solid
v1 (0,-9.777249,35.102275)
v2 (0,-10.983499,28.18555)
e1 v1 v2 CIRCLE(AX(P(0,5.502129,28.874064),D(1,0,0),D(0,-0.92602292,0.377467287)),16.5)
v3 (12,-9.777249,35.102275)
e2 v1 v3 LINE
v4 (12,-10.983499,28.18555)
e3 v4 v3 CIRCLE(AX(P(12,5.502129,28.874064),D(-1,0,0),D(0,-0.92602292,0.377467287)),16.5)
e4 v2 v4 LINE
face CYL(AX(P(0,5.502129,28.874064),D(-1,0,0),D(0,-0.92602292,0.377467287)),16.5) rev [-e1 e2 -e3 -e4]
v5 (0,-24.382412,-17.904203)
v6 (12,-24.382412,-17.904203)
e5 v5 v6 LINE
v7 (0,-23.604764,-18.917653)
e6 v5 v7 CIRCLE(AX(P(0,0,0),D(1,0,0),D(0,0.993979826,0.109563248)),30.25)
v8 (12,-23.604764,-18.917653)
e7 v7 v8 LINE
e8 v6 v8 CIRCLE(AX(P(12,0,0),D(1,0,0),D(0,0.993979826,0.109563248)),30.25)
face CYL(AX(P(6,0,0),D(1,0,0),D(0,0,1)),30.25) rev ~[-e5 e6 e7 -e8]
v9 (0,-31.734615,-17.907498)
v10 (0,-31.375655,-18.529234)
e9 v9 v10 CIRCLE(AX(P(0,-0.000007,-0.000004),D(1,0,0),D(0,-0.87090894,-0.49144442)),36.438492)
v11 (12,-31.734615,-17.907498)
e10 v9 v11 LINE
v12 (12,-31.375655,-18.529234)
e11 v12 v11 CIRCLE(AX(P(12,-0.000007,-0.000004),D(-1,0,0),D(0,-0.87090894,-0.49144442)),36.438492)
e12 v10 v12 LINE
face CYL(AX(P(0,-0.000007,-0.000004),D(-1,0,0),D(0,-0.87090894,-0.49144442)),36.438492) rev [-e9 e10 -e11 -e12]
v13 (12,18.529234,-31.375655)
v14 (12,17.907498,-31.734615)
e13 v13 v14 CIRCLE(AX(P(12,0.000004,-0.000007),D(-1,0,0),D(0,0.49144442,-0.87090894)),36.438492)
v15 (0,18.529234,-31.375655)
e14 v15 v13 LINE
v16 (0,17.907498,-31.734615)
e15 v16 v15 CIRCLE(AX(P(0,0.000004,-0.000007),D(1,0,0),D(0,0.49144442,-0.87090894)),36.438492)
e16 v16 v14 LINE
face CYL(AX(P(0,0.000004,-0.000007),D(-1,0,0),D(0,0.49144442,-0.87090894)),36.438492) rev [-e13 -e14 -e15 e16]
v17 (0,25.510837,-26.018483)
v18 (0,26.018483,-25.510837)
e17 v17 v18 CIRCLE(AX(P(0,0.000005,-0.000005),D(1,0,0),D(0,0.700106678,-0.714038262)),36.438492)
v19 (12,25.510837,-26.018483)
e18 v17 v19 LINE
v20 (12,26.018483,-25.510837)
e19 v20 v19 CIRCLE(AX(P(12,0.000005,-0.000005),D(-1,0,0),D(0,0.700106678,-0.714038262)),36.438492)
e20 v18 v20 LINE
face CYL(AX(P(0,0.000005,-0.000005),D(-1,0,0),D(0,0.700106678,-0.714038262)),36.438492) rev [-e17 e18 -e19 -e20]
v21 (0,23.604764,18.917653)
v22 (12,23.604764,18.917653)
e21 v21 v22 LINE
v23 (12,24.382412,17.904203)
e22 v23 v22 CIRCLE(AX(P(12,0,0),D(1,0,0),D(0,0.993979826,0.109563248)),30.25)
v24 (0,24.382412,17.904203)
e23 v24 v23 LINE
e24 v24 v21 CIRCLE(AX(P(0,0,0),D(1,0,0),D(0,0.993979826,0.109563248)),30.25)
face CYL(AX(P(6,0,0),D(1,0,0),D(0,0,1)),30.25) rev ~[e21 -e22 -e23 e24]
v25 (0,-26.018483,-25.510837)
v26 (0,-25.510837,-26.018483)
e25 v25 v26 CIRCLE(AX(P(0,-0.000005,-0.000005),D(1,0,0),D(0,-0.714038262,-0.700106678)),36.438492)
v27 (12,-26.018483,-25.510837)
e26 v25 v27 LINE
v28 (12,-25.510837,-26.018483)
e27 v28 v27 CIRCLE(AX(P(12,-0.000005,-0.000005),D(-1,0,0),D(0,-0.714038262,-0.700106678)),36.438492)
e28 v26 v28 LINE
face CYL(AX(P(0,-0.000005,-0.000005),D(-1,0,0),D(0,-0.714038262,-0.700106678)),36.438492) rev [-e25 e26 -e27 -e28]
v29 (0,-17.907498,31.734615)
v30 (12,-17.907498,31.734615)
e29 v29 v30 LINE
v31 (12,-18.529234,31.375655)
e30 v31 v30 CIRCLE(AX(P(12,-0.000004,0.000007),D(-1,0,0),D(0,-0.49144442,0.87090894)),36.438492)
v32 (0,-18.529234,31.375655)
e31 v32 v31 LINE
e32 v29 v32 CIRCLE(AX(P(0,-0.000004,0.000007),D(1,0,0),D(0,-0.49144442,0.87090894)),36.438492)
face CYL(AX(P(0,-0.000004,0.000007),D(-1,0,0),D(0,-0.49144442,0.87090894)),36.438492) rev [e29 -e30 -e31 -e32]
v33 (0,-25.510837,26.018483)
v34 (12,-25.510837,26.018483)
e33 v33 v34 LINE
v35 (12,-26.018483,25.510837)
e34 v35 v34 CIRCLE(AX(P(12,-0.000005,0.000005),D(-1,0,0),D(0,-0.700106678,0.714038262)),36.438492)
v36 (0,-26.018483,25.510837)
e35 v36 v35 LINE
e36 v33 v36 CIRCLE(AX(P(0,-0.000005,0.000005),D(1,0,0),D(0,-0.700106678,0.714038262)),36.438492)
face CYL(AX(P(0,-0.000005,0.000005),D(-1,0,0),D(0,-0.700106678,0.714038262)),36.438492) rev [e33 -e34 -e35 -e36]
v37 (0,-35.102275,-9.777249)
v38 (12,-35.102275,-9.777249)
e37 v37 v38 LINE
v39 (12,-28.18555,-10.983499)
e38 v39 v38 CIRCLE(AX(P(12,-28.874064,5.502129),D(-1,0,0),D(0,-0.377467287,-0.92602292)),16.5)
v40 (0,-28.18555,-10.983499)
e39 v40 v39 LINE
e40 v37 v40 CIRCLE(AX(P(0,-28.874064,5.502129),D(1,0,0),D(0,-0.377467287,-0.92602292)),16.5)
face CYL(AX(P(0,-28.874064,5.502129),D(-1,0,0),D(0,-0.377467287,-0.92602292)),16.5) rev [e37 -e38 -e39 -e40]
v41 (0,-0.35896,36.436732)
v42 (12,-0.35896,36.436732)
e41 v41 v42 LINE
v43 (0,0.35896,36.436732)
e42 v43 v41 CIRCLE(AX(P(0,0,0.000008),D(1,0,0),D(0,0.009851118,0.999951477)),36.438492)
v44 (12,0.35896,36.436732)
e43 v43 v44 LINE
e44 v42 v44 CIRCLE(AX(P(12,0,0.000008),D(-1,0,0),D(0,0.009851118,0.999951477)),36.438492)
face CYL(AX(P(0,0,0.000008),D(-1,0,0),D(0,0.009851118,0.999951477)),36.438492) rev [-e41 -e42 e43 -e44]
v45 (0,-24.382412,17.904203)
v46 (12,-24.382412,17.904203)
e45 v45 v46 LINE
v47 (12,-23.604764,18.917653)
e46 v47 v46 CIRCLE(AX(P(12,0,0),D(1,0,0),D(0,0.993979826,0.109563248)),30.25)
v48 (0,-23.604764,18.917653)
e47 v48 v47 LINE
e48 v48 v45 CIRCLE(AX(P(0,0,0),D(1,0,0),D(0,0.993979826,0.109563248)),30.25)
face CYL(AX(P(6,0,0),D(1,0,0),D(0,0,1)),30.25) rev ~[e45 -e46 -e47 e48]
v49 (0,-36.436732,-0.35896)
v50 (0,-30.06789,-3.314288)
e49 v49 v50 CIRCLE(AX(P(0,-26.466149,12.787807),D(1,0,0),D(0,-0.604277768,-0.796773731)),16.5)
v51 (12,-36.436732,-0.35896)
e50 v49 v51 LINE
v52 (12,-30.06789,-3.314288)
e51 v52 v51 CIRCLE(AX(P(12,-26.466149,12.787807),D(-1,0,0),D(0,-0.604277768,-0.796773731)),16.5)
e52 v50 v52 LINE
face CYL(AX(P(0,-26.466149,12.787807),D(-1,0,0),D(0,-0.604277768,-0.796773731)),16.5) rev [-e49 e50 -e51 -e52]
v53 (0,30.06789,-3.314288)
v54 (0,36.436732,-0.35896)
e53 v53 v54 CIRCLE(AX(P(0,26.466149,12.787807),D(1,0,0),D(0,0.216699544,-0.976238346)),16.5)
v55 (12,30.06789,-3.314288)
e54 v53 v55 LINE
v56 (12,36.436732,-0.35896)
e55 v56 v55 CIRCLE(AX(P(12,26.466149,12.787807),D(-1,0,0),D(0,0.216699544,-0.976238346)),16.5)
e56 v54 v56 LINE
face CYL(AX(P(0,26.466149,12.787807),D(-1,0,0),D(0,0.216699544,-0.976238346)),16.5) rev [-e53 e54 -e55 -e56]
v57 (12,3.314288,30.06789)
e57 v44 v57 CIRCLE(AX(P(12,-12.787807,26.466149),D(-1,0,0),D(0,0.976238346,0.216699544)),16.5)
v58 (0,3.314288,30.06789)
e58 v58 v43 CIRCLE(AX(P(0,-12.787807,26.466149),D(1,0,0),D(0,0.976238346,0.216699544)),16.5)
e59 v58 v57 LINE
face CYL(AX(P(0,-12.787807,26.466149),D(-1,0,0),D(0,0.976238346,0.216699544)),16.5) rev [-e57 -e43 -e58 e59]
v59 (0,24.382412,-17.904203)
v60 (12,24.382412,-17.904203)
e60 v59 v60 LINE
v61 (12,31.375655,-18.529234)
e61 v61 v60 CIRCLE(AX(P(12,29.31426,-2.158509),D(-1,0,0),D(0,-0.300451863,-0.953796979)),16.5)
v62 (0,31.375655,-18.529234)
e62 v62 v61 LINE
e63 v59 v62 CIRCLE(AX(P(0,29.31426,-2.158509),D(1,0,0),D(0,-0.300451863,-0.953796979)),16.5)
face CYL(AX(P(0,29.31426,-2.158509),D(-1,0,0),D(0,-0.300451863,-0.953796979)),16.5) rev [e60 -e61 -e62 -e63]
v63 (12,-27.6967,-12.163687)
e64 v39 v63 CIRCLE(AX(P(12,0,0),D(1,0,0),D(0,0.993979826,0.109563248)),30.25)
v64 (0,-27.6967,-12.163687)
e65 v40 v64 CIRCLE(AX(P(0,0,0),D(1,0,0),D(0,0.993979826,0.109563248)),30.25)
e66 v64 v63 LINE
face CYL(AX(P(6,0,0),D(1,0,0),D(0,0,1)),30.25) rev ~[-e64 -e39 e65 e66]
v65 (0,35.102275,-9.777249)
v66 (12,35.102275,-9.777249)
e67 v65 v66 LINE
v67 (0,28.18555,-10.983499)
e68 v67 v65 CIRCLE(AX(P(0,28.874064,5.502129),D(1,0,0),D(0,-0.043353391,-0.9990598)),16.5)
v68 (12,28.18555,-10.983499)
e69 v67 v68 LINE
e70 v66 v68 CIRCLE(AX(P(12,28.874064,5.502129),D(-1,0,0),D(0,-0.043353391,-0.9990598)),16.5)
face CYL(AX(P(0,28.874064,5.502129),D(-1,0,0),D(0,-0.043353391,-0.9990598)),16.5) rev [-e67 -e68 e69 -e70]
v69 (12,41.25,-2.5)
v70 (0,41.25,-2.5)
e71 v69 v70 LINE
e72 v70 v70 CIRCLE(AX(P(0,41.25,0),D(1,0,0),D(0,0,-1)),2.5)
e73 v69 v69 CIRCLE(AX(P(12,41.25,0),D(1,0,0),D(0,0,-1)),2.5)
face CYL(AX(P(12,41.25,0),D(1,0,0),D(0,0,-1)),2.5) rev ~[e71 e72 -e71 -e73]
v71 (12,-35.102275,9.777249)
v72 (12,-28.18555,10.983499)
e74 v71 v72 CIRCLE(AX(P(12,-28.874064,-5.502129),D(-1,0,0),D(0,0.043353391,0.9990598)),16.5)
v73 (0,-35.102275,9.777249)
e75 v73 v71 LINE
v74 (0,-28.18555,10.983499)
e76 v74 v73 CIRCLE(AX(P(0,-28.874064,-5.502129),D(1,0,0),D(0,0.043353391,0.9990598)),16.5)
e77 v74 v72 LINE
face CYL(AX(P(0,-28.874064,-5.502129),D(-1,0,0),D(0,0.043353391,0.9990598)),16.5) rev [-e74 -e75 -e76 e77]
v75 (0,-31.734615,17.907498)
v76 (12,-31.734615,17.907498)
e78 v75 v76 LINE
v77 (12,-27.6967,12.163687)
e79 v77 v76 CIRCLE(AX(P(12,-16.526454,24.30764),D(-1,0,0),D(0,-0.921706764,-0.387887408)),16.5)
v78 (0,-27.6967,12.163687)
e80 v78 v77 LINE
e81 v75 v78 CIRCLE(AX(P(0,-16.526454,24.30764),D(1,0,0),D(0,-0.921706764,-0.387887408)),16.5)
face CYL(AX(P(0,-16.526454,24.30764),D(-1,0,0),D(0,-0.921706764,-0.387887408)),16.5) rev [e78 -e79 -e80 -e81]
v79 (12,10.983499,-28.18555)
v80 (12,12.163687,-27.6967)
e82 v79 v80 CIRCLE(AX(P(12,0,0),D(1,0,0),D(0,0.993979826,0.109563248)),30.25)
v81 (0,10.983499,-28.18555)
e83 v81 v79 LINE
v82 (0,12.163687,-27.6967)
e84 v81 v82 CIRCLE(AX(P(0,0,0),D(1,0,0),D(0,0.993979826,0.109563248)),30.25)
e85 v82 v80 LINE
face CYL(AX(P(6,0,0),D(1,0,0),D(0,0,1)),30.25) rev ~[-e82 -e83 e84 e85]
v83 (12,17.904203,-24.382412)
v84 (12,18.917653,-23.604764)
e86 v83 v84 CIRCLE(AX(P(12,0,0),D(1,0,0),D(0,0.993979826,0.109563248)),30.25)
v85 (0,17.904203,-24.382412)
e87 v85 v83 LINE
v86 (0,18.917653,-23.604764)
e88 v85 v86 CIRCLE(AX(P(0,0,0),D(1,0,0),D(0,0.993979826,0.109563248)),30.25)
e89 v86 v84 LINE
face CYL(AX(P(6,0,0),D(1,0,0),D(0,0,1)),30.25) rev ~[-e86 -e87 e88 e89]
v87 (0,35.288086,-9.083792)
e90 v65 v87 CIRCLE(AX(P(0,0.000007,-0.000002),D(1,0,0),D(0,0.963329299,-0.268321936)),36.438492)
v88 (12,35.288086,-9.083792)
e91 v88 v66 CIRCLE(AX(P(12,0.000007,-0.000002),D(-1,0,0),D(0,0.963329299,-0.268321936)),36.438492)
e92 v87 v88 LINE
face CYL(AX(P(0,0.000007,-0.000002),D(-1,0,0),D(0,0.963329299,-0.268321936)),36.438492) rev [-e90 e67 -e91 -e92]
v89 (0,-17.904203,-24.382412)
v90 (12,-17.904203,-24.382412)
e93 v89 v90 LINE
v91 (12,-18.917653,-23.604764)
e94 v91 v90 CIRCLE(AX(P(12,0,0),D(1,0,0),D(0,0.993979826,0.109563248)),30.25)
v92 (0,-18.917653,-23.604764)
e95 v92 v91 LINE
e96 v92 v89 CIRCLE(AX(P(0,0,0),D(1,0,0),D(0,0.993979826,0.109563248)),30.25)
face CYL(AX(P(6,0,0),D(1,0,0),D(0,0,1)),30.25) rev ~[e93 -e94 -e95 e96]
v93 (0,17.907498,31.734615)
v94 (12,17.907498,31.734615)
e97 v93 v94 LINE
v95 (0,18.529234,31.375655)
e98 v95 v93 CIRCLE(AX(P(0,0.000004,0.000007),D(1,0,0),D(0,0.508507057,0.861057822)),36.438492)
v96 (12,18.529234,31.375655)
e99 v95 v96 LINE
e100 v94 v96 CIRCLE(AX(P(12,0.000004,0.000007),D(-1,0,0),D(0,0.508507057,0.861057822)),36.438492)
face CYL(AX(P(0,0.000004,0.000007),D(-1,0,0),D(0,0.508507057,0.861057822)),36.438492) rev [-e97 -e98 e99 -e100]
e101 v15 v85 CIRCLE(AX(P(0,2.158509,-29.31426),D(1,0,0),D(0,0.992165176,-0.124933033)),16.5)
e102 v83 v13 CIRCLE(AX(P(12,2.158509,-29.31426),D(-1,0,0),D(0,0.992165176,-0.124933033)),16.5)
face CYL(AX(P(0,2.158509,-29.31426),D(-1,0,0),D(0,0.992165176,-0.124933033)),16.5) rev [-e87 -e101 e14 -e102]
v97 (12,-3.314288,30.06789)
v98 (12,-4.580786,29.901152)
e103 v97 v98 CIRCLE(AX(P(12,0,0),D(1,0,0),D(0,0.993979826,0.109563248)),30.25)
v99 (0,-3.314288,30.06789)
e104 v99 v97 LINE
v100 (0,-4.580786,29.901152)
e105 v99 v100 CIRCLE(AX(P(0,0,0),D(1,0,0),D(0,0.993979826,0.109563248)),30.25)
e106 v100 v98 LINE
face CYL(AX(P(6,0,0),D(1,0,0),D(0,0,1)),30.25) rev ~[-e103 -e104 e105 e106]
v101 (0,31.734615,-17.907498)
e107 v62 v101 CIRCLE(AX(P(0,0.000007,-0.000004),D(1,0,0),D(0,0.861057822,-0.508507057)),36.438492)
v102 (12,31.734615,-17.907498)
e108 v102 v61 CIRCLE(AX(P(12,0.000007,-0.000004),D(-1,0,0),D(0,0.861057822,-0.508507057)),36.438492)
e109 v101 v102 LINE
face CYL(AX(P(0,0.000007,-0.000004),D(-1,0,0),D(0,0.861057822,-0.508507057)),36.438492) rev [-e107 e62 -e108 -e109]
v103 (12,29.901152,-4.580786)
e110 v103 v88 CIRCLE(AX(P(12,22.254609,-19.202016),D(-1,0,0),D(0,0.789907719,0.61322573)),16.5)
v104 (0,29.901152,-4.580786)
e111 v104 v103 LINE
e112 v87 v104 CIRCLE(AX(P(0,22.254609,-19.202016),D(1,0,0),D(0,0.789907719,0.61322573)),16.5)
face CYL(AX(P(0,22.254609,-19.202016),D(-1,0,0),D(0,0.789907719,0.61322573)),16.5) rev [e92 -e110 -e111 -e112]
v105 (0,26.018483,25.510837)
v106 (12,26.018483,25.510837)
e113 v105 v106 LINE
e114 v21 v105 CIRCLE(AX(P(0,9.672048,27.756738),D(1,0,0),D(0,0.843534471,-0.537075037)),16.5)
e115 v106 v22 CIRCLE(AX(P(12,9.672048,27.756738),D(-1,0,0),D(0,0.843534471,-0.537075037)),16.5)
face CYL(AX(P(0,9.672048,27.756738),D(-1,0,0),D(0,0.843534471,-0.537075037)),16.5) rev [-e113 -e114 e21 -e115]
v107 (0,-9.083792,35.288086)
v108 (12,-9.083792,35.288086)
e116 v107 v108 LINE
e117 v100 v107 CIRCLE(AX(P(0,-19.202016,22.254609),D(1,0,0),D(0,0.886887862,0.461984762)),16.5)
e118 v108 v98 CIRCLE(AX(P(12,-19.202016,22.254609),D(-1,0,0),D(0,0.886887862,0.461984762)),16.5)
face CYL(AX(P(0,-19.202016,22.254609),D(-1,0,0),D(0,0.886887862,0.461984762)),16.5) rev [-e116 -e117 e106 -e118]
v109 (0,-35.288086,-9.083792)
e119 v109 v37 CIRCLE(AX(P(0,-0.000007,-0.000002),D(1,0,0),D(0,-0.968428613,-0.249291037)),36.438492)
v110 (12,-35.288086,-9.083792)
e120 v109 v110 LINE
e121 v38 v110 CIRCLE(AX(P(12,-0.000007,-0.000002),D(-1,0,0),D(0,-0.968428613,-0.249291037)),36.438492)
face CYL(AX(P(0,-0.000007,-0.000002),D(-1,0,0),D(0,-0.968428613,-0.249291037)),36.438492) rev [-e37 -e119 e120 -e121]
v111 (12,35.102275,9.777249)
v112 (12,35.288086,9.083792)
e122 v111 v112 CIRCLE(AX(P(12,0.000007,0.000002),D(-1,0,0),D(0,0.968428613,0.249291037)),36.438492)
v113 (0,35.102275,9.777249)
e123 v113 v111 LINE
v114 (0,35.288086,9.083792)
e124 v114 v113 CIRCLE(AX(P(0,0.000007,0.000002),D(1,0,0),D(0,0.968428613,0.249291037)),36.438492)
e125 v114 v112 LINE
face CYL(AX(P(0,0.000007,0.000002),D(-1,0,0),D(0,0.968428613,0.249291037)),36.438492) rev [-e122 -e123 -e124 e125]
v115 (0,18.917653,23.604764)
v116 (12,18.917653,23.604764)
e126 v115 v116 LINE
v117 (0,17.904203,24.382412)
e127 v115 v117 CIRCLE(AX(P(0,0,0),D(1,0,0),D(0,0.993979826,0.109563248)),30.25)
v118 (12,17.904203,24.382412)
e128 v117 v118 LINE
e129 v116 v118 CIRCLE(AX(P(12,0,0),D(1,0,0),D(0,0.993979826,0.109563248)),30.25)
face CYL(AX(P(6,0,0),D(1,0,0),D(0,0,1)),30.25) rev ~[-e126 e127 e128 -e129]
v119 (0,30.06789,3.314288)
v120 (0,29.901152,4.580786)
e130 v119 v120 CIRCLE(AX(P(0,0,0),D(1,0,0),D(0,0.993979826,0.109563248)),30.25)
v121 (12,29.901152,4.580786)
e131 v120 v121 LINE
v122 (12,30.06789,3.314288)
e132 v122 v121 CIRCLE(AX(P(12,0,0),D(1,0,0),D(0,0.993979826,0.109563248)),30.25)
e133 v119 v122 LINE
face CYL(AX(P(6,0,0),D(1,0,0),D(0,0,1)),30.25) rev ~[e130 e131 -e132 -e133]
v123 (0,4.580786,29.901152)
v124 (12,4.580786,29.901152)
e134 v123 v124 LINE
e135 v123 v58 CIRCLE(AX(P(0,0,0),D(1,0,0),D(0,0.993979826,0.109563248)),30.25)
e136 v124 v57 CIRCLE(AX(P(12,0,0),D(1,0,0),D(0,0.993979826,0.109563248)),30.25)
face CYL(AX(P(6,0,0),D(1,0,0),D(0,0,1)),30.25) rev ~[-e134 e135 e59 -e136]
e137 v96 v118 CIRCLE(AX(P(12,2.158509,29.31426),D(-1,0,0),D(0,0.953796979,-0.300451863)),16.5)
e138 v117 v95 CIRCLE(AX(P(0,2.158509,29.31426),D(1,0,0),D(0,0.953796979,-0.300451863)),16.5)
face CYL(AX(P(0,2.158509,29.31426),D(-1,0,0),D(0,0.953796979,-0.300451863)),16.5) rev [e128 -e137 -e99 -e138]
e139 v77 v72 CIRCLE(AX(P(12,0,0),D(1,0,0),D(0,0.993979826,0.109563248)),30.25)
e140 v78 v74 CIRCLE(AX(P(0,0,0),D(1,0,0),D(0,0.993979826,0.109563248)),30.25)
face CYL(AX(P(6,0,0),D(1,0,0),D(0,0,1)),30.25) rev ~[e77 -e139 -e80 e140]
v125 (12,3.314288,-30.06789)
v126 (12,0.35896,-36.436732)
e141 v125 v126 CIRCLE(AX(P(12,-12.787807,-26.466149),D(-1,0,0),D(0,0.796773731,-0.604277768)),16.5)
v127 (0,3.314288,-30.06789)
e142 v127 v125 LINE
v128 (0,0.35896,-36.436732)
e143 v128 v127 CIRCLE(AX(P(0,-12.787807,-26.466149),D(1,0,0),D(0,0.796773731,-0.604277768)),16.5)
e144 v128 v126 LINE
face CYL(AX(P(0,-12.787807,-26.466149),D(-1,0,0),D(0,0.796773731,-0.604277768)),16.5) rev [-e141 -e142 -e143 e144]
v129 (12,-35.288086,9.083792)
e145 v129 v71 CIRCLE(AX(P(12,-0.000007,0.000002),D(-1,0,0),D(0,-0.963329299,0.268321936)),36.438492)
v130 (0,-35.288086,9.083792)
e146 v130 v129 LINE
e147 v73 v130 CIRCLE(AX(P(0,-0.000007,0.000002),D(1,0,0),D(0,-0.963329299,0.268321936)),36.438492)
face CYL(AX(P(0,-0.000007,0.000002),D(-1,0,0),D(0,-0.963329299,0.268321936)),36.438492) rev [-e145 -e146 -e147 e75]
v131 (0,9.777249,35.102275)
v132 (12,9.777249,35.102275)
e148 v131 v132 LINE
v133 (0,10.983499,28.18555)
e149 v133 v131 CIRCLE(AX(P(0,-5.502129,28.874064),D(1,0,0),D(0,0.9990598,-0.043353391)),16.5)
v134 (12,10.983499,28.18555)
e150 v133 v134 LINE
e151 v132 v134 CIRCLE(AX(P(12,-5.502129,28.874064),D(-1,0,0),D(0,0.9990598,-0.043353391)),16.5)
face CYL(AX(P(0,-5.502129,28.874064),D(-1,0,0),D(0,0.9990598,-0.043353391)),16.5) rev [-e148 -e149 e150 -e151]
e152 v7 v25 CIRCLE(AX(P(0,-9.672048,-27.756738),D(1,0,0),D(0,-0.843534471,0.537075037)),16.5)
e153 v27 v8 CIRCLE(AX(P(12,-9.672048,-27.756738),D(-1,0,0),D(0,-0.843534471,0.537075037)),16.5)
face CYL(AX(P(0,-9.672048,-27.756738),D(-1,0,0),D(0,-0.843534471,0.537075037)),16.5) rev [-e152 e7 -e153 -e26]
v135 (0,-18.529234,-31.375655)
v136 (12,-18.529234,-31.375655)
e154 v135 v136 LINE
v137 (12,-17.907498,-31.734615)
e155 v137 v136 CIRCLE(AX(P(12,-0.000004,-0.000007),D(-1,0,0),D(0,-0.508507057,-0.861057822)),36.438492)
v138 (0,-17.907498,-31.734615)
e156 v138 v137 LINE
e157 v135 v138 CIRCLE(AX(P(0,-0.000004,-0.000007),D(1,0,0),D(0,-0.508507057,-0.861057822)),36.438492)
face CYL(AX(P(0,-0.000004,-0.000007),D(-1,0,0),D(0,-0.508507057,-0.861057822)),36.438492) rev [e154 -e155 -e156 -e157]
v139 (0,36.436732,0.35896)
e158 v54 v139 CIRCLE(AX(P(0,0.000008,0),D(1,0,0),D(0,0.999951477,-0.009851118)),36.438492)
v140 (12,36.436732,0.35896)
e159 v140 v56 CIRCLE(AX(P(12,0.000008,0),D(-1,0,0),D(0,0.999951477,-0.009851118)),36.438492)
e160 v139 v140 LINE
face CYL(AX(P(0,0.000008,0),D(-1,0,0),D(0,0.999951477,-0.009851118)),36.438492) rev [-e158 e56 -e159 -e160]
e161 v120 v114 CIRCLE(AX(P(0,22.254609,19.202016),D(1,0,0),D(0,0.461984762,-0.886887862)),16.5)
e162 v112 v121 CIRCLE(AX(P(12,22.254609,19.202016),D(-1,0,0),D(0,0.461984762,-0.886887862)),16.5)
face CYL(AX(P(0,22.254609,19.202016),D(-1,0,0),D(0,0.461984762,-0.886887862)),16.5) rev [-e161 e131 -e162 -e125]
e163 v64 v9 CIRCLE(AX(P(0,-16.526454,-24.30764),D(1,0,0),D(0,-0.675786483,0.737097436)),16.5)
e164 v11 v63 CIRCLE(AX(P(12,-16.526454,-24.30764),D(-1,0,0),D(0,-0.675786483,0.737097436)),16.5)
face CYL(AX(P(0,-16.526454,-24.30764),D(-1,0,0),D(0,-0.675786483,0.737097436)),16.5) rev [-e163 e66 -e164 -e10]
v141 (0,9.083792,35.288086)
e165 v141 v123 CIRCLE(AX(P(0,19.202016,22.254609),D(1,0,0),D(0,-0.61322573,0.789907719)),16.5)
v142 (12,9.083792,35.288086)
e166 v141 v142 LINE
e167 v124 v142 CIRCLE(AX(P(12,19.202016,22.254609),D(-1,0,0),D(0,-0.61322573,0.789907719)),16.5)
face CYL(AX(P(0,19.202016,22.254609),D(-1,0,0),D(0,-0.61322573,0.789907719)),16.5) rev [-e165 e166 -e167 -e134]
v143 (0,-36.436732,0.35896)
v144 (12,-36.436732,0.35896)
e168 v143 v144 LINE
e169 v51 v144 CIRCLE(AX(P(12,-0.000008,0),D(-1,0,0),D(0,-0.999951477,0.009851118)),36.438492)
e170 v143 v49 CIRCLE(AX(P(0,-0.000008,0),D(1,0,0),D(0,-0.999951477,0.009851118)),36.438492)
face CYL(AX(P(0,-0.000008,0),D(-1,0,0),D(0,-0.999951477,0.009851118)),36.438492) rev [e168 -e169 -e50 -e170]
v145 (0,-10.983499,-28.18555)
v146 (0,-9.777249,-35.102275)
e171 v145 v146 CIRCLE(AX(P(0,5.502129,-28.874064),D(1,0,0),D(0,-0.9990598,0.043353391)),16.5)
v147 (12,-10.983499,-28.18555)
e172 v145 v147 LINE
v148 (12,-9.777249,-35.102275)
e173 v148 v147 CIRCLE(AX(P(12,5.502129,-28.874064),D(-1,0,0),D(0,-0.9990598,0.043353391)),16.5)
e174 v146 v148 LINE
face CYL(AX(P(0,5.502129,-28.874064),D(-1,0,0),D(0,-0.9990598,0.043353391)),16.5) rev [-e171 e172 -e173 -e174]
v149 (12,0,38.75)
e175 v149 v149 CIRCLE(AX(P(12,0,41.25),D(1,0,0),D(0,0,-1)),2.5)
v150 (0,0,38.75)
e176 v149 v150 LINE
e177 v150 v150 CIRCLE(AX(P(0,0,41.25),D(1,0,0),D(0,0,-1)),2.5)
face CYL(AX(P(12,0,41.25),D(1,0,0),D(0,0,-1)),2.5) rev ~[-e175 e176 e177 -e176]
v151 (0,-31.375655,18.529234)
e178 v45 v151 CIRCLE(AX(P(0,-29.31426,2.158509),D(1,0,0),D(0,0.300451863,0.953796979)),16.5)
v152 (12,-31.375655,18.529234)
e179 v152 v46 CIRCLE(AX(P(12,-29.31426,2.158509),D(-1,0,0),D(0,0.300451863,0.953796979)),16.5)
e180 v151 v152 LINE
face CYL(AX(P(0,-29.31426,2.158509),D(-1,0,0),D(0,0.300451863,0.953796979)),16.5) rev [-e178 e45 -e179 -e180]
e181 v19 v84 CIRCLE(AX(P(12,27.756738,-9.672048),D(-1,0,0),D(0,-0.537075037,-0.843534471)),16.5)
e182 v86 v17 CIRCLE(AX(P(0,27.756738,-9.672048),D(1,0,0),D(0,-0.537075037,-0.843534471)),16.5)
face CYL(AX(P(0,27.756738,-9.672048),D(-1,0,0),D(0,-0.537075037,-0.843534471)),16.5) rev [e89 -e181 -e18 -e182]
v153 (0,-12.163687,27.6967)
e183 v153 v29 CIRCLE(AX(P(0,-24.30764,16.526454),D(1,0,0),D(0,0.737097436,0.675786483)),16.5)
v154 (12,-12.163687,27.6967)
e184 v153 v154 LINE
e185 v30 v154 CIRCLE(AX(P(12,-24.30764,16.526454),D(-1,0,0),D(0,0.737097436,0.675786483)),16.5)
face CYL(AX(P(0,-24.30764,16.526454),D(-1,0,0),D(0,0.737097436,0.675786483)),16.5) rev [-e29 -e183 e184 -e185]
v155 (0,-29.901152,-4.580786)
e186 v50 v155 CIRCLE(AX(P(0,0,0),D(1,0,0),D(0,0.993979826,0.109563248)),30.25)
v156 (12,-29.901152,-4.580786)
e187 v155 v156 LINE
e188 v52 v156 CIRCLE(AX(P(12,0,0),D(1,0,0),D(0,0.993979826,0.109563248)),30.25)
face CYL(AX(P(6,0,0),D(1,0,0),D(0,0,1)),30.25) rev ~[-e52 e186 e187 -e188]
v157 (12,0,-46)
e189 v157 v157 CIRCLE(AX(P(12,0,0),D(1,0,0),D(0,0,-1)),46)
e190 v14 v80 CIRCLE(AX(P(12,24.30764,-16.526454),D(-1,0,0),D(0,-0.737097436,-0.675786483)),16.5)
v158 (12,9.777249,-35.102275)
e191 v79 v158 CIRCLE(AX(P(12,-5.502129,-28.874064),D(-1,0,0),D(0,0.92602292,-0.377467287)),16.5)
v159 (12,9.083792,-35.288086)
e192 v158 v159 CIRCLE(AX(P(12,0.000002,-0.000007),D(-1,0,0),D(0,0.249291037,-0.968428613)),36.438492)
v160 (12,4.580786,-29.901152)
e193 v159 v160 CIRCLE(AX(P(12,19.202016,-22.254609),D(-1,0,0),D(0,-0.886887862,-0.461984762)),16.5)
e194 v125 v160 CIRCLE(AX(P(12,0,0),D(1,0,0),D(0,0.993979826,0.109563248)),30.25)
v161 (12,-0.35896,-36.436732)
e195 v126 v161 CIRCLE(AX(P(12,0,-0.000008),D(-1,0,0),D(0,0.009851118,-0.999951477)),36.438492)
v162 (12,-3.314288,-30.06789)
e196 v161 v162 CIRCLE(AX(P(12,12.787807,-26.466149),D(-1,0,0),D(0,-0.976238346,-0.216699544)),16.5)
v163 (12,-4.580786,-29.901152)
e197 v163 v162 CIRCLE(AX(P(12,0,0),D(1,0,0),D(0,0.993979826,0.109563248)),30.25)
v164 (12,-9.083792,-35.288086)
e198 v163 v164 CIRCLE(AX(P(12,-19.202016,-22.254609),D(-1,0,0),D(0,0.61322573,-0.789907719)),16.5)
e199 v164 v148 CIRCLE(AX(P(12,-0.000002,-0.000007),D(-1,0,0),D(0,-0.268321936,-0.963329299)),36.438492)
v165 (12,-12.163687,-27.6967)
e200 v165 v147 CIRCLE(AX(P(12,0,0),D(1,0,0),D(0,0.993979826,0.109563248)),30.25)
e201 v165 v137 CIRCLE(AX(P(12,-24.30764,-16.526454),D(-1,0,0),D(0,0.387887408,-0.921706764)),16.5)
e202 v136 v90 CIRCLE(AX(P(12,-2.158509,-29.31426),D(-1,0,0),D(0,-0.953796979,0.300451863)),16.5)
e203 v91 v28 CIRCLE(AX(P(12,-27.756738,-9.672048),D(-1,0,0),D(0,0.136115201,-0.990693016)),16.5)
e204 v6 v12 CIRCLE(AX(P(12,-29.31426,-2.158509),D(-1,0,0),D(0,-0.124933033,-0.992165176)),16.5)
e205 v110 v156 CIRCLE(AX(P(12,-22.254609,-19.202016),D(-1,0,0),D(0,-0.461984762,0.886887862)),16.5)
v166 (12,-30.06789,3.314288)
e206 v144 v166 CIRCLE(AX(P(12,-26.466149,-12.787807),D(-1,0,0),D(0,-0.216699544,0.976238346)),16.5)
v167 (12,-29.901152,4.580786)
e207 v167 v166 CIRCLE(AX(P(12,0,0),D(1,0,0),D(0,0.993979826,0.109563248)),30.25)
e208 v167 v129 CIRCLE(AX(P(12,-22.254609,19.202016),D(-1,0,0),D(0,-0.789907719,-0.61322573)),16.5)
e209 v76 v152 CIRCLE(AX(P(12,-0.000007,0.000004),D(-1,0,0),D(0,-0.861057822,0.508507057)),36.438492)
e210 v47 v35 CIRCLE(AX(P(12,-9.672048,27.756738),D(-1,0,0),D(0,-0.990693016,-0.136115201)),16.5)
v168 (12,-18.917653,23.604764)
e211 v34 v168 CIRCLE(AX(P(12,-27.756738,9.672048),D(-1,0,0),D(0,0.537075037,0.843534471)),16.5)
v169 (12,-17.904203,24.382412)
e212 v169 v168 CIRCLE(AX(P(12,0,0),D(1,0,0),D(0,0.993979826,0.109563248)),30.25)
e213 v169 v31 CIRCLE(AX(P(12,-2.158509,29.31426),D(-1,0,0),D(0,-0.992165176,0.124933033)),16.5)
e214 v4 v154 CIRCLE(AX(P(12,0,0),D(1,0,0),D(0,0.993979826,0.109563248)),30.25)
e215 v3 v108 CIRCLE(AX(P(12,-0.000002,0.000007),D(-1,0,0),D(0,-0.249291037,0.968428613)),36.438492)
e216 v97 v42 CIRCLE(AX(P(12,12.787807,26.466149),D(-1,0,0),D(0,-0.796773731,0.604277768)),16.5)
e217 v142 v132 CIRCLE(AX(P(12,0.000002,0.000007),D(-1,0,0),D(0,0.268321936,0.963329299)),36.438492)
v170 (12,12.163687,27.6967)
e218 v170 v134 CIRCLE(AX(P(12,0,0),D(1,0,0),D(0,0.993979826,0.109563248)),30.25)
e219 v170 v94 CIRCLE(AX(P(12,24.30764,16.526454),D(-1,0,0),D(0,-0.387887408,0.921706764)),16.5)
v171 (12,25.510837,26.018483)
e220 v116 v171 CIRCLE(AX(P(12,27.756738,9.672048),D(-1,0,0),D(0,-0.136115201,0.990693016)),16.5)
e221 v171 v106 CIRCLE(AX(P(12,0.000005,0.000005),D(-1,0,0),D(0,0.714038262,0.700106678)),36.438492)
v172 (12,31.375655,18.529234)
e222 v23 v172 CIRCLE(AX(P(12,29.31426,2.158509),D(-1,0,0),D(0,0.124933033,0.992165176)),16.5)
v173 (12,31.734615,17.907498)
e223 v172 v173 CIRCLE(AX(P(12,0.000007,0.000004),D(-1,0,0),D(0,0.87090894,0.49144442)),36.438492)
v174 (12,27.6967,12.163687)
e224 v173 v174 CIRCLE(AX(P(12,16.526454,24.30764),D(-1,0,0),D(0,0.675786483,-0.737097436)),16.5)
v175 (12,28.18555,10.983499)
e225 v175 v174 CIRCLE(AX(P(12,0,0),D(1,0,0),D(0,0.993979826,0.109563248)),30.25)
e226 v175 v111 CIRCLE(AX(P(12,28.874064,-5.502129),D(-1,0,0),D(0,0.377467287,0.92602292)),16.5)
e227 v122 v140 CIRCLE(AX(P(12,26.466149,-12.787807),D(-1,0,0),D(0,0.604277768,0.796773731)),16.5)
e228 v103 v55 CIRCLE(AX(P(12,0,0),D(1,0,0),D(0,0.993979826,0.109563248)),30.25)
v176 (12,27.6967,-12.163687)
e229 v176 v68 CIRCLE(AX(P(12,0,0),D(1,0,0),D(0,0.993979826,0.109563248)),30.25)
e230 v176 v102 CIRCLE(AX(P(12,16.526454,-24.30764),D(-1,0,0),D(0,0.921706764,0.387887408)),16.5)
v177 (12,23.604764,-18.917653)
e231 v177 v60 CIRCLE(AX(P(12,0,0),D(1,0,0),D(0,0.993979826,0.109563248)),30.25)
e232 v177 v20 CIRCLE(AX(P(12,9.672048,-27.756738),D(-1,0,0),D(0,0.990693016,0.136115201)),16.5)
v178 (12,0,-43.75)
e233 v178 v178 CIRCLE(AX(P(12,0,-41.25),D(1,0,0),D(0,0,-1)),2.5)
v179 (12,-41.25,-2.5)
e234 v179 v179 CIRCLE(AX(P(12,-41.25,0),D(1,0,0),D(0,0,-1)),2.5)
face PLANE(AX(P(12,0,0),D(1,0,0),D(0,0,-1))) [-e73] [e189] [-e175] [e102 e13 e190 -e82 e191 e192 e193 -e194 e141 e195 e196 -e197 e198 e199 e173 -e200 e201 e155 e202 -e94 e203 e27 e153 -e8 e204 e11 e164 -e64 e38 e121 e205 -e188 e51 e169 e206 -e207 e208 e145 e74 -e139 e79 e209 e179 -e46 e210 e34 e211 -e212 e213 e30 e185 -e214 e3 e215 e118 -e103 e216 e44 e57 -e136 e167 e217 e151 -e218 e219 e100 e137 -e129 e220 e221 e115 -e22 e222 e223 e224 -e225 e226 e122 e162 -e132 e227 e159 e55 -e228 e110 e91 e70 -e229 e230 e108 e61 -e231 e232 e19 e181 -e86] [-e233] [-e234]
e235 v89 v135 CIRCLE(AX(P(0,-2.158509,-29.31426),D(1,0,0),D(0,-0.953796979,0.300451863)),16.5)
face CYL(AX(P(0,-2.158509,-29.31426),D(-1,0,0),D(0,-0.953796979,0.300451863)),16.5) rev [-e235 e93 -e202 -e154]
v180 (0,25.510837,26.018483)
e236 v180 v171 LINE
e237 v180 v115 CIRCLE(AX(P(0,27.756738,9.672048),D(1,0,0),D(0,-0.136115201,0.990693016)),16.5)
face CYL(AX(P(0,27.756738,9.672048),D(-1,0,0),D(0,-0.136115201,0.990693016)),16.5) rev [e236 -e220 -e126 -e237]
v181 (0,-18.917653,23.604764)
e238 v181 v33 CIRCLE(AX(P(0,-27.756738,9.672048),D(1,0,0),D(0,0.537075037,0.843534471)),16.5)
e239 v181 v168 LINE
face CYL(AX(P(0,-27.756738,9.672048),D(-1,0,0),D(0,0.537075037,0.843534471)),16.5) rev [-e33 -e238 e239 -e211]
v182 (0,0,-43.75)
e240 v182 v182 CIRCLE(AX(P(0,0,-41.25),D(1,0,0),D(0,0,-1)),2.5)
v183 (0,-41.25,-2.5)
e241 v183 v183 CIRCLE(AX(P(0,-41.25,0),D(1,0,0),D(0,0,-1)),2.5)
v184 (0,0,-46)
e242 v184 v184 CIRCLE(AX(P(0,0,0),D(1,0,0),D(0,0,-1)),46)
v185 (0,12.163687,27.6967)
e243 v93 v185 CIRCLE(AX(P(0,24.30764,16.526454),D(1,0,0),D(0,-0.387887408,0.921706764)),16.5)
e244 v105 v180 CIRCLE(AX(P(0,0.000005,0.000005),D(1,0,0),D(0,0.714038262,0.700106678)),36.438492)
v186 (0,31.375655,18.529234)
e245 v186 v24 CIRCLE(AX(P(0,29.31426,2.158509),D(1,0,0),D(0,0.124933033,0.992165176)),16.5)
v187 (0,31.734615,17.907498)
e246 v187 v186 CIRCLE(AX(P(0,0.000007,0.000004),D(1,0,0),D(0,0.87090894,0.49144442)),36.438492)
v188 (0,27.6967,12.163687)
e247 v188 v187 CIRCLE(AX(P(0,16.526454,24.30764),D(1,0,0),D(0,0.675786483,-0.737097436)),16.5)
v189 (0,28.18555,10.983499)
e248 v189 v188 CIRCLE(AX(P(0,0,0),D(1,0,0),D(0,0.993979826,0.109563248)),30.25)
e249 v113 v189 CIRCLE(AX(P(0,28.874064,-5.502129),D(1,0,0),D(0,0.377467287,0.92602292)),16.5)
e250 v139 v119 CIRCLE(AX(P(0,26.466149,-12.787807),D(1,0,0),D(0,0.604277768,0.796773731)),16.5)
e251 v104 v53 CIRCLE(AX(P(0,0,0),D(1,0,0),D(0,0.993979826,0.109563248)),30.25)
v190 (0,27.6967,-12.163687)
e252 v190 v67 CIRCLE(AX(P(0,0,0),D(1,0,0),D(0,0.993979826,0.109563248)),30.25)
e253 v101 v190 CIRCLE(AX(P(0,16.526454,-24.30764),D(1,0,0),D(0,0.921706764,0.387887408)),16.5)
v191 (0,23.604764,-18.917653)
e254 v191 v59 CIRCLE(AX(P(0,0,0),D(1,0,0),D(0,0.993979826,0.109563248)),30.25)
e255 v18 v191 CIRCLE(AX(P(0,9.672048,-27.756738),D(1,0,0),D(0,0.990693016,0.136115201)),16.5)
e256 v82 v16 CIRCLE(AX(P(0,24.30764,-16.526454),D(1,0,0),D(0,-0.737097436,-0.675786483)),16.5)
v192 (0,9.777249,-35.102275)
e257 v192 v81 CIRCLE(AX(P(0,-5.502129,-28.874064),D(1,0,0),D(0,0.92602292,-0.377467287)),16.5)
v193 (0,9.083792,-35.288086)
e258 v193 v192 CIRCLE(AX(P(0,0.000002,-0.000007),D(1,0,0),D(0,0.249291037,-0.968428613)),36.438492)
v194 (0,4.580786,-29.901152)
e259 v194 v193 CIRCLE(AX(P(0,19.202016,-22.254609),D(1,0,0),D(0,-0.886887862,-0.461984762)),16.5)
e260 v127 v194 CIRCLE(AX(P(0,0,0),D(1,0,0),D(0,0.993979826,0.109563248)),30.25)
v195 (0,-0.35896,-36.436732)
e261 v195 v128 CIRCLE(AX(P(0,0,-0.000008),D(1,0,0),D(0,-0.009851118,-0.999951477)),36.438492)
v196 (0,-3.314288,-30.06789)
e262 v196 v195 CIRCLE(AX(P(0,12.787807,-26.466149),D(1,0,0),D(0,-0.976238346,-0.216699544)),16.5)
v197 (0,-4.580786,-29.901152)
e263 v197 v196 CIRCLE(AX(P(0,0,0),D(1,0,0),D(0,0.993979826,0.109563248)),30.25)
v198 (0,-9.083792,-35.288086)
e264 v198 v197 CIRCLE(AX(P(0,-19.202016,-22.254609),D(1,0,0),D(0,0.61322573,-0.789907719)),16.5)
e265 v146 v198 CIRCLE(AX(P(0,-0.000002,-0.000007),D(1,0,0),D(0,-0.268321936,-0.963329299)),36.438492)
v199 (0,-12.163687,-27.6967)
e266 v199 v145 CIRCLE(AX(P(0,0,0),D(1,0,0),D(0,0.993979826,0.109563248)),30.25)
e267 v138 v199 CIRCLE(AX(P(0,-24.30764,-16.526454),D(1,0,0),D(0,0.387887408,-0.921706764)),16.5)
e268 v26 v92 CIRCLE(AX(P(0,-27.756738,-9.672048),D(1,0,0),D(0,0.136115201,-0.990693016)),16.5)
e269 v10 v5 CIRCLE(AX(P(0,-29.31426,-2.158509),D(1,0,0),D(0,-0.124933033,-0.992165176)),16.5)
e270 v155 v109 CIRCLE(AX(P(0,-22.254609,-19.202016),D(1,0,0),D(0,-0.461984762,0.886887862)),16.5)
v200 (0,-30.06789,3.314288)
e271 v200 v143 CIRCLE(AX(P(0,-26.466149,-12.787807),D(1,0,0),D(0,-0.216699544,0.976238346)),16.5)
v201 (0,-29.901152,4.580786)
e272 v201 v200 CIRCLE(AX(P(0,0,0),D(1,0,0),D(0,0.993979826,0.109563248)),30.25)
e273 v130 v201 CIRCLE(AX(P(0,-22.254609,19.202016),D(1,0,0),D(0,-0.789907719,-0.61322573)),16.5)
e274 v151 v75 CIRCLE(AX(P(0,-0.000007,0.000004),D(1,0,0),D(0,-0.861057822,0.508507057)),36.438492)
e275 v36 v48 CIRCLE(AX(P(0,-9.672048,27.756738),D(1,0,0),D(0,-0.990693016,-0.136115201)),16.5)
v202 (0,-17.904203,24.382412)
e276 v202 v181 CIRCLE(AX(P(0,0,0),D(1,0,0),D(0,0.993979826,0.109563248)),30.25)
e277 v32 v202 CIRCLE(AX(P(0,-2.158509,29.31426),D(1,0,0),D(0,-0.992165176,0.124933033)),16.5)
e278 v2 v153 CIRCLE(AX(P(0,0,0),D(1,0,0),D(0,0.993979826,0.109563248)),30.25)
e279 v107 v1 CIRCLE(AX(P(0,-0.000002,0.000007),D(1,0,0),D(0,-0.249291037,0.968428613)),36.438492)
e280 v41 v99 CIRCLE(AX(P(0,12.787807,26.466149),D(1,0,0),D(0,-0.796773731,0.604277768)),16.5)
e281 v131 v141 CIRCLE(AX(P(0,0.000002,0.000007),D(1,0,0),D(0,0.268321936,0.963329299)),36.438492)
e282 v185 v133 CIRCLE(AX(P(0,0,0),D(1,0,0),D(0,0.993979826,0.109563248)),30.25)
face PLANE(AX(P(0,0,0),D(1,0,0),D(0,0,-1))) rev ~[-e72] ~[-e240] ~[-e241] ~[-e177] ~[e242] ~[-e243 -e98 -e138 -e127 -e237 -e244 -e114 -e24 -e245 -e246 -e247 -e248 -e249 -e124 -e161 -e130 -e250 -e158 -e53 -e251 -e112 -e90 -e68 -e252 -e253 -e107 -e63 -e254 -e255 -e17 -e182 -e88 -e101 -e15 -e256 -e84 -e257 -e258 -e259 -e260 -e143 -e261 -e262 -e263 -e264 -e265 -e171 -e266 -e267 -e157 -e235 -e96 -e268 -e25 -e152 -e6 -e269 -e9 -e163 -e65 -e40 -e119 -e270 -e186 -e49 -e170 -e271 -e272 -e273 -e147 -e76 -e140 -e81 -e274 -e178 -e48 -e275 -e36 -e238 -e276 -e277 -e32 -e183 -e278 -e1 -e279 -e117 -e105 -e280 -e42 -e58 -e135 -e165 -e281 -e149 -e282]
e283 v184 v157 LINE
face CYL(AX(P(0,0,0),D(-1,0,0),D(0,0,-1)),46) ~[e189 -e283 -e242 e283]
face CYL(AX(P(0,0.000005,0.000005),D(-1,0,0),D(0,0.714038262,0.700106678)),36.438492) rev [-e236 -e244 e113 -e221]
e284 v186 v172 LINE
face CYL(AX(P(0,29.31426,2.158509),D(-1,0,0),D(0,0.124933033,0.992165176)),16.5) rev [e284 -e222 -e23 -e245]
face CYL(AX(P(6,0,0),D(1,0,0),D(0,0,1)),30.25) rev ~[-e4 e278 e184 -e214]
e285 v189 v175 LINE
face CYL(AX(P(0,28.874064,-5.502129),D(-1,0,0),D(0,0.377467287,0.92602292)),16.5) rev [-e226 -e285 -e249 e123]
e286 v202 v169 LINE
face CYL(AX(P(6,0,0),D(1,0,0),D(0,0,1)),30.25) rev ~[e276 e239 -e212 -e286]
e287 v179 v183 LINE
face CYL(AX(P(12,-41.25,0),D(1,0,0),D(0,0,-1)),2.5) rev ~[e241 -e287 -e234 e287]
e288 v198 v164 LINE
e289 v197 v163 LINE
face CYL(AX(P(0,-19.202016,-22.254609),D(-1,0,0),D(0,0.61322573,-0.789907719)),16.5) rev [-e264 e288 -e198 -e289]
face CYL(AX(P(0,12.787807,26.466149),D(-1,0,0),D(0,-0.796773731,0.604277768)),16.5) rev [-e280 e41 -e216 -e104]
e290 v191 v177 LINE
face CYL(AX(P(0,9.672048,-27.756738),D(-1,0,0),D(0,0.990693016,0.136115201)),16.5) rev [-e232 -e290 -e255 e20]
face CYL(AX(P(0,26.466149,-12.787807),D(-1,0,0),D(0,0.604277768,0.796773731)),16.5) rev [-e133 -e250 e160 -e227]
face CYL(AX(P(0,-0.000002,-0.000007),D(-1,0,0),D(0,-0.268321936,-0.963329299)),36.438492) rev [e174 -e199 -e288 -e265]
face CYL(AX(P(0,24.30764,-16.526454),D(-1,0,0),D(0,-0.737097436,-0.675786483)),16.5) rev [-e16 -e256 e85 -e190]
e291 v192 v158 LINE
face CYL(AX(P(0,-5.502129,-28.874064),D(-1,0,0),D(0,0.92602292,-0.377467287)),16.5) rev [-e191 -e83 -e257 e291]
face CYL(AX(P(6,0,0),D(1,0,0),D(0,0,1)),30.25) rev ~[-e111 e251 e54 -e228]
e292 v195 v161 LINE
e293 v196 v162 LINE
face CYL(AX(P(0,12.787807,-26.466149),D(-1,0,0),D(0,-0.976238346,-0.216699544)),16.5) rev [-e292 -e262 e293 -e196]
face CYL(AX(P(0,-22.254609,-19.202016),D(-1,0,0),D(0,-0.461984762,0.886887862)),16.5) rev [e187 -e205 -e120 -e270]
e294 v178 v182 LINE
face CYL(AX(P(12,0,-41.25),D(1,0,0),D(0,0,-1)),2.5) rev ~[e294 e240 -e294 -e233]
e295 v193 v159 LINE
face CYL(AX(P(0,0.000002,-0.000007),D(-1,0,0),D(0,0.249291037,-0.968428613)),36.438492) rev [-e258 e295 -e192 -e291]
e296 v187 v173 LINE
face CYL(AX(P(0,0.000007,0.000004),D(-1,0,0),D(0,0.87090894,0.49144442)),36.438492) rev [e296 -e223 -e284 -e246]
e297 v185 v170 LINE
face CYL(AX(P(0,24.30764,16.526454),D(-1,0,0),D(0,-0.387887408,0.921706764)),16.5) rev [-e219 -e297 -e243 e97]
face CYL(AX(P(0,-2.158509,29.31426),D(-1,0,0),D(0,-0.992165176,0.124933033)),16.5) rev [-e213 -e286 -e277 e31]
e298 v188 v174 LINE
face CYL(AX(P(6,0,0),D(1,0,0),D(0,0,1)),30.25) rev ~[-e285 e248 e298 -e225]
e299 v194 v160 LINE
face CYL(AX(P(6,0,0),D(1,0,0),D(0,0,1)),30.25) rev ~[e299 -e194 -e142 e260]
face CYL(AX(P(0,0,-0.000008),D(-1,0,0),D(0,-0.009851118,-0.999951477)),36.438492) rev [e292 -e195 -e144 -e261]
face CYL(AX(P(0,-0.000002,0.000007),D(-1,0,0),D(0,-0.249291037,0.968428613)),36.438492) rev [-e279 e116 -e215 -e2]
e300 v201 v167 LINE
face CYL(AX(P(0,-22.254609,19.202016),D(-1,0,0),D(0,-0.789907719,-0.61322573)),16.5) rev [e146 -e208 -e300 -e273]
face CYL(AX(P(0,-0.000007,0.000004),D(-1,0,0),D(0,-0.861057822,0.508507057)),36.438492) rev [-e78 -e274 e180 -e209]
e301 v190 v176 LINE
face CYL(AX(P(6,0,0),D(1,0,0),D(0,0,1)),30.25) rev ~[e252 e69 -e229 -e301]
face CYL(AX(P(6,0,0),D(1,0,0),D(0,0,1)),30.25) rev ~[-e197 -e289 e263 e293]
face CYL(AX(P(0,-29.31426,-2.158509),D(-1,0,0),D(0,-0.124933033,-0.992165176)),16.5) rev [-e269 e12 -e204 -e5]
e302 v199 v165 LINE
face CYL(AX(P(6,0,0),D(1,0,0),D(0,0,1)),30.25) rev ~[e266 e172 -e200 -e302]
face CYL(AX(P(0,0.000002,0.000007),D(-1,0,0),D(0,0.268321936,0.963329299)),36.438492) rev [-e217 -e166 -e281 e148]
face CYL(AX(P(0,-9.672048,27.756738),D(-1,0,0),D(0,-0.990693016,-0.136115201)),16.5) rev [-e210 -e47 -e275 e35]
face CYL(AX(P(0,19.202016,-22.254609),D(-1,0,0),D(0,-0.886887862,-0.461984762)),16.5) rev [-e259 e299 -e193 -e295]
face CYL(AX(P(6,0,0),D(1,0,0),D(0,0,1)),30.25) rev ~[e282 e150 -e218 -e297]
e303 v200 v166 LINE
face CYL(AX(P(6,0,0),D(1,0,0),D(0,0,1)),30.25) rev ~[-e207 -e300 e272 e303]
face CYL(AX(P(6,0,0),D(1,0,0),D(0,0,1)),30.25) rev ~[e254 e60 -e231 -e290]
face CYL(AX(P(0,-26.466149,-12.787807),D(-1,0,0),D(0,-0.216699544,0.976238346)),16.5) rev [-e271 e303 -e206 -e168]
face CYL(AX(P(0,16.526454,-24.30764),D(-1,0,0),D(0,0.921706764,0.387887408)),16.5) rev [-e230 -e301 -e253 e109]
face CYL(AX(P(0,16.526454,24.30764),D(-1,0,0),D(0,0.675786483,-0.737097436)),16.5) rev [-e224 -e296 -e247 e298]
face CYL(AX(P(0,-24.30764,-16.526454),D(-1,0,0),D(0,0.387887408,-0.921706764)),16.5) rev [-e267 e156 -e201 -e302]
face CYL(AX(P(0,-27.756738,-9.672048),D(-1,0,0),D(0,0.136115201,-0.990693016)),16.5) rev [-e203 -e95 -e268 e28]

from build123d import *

# Parameters (mm, degrees)
BASPROSKE_W         = 12
BASPROSKE_H         = 6.2139
TOOTHCUT_DEPTH      = 53.945557004
TEETHCUTS_COUNT     = 24
TEETHCUTS_ANGLE     = 345
BOSS_EXTRUDE1_START = -12
SKETCH1_R           = 46
SKETCH1_R_2         = 36.4385
BOSS_EXTRUDE1_DEPTH = 12
SKETCH2_R           = 2.5
CUT_EXTRUDE1_DEPTH  = 12


with BuildPart() as part:
    # BasProSke → Base-Revolve (revolve)
    with BuildSketch(Plane(origin=(0, 0, 0), x_dir=(1, 0, 0), z_dir=(0, 1, 0)), mode=Mode.PRIVATE) as base_revolve_sk:
        with Locations((6, 33.35695)):
            Rectangle(BASPROSKE_W, BASPROSKE_H)
    revolve(base_revolve_sk.sketch.rotate(Axis((-10, 0, 0), (1, 0, 0)), 180), axis=Axis((-10, 0, 0), (1, 0, 0)))

    # TooCutSke → ToothCut (cut, through all)
    with BuildSketch(Plane(origin=(0, 0, 0), x_dir=(0, 0, -1), z_dir=(1, 0, 0))):
        with BuildLine():
            ThreePointArc((3.32012603, 30.041691169), (2.184951712, 33.399149944), (0.358959887, 36.436731879))
            ThreePointArc((0.358959887, 36.436731879), (0, 36.4385), (-0.358959887, 36.436731879))
            ThreePointArc((-0.358959887, 36.436731879), (-2.184951712, 33.399149944), (-3.32012603, 30.041691169))
            ThreePointArc((-3.32012603, 30.041691169), (0, 30.2246), (3.32012603, 30.041691169))
        make_face()
    toothcut = extrude(amount=TOOTHCUT_DEPTH, mode=Mode.SUBTRACT)

    # TeethCuts: ToothCut ×24 about axis
    teethcuts_axis = Axis((-10, 0, 0), (1, 0, 0))
    for i in range(1, TEETHCUTS_COUNT):
        add(toothcut.rotate(teethcuts_axis, i * TEETHCUTS_ANGLE / (TEETHCUTS_COUNT - 1)), mode=Mode.SUBTRACT)

    # Sketch1 → Boss-Extrude1 (add)
    with BuildSketch(Plane(origin=(12, 0, 0), x_dir=(0, 0, -1), z_dir=(1, 0, 0)).offset(BOSS_EXTRUDE1_START)):
        Circle(SKETCH1_R)
        Circle(SKETCH1_R_2, mode=Mode.SUBTRACT)
    extrude(amount=BOSS_EXTRUDE1_DEPTH)

    # Sketch2 → Cut-Extrude1 (cut)
    with BuildSketch(Plane(origin=(12, 0, 0), x_dir=(0, 0, -1), z_dir=(1, 0, 0))):
        with Locations((41.25, 0)):
            Circle(SKETCH2_R)
        with Locations((0, -41.25)):
            Circle(SKETCH2_R)
        with Locations((-41.25, 0)):
            Circle(SKETCH2_R)
        with Locations((0, 41.25)):
            Circle(SKETCH2_R)
    extrude(amount=-CUT_EXTRUDE1_DEPTH, mode=Mode.SUBTRACT)


solid = part.part
